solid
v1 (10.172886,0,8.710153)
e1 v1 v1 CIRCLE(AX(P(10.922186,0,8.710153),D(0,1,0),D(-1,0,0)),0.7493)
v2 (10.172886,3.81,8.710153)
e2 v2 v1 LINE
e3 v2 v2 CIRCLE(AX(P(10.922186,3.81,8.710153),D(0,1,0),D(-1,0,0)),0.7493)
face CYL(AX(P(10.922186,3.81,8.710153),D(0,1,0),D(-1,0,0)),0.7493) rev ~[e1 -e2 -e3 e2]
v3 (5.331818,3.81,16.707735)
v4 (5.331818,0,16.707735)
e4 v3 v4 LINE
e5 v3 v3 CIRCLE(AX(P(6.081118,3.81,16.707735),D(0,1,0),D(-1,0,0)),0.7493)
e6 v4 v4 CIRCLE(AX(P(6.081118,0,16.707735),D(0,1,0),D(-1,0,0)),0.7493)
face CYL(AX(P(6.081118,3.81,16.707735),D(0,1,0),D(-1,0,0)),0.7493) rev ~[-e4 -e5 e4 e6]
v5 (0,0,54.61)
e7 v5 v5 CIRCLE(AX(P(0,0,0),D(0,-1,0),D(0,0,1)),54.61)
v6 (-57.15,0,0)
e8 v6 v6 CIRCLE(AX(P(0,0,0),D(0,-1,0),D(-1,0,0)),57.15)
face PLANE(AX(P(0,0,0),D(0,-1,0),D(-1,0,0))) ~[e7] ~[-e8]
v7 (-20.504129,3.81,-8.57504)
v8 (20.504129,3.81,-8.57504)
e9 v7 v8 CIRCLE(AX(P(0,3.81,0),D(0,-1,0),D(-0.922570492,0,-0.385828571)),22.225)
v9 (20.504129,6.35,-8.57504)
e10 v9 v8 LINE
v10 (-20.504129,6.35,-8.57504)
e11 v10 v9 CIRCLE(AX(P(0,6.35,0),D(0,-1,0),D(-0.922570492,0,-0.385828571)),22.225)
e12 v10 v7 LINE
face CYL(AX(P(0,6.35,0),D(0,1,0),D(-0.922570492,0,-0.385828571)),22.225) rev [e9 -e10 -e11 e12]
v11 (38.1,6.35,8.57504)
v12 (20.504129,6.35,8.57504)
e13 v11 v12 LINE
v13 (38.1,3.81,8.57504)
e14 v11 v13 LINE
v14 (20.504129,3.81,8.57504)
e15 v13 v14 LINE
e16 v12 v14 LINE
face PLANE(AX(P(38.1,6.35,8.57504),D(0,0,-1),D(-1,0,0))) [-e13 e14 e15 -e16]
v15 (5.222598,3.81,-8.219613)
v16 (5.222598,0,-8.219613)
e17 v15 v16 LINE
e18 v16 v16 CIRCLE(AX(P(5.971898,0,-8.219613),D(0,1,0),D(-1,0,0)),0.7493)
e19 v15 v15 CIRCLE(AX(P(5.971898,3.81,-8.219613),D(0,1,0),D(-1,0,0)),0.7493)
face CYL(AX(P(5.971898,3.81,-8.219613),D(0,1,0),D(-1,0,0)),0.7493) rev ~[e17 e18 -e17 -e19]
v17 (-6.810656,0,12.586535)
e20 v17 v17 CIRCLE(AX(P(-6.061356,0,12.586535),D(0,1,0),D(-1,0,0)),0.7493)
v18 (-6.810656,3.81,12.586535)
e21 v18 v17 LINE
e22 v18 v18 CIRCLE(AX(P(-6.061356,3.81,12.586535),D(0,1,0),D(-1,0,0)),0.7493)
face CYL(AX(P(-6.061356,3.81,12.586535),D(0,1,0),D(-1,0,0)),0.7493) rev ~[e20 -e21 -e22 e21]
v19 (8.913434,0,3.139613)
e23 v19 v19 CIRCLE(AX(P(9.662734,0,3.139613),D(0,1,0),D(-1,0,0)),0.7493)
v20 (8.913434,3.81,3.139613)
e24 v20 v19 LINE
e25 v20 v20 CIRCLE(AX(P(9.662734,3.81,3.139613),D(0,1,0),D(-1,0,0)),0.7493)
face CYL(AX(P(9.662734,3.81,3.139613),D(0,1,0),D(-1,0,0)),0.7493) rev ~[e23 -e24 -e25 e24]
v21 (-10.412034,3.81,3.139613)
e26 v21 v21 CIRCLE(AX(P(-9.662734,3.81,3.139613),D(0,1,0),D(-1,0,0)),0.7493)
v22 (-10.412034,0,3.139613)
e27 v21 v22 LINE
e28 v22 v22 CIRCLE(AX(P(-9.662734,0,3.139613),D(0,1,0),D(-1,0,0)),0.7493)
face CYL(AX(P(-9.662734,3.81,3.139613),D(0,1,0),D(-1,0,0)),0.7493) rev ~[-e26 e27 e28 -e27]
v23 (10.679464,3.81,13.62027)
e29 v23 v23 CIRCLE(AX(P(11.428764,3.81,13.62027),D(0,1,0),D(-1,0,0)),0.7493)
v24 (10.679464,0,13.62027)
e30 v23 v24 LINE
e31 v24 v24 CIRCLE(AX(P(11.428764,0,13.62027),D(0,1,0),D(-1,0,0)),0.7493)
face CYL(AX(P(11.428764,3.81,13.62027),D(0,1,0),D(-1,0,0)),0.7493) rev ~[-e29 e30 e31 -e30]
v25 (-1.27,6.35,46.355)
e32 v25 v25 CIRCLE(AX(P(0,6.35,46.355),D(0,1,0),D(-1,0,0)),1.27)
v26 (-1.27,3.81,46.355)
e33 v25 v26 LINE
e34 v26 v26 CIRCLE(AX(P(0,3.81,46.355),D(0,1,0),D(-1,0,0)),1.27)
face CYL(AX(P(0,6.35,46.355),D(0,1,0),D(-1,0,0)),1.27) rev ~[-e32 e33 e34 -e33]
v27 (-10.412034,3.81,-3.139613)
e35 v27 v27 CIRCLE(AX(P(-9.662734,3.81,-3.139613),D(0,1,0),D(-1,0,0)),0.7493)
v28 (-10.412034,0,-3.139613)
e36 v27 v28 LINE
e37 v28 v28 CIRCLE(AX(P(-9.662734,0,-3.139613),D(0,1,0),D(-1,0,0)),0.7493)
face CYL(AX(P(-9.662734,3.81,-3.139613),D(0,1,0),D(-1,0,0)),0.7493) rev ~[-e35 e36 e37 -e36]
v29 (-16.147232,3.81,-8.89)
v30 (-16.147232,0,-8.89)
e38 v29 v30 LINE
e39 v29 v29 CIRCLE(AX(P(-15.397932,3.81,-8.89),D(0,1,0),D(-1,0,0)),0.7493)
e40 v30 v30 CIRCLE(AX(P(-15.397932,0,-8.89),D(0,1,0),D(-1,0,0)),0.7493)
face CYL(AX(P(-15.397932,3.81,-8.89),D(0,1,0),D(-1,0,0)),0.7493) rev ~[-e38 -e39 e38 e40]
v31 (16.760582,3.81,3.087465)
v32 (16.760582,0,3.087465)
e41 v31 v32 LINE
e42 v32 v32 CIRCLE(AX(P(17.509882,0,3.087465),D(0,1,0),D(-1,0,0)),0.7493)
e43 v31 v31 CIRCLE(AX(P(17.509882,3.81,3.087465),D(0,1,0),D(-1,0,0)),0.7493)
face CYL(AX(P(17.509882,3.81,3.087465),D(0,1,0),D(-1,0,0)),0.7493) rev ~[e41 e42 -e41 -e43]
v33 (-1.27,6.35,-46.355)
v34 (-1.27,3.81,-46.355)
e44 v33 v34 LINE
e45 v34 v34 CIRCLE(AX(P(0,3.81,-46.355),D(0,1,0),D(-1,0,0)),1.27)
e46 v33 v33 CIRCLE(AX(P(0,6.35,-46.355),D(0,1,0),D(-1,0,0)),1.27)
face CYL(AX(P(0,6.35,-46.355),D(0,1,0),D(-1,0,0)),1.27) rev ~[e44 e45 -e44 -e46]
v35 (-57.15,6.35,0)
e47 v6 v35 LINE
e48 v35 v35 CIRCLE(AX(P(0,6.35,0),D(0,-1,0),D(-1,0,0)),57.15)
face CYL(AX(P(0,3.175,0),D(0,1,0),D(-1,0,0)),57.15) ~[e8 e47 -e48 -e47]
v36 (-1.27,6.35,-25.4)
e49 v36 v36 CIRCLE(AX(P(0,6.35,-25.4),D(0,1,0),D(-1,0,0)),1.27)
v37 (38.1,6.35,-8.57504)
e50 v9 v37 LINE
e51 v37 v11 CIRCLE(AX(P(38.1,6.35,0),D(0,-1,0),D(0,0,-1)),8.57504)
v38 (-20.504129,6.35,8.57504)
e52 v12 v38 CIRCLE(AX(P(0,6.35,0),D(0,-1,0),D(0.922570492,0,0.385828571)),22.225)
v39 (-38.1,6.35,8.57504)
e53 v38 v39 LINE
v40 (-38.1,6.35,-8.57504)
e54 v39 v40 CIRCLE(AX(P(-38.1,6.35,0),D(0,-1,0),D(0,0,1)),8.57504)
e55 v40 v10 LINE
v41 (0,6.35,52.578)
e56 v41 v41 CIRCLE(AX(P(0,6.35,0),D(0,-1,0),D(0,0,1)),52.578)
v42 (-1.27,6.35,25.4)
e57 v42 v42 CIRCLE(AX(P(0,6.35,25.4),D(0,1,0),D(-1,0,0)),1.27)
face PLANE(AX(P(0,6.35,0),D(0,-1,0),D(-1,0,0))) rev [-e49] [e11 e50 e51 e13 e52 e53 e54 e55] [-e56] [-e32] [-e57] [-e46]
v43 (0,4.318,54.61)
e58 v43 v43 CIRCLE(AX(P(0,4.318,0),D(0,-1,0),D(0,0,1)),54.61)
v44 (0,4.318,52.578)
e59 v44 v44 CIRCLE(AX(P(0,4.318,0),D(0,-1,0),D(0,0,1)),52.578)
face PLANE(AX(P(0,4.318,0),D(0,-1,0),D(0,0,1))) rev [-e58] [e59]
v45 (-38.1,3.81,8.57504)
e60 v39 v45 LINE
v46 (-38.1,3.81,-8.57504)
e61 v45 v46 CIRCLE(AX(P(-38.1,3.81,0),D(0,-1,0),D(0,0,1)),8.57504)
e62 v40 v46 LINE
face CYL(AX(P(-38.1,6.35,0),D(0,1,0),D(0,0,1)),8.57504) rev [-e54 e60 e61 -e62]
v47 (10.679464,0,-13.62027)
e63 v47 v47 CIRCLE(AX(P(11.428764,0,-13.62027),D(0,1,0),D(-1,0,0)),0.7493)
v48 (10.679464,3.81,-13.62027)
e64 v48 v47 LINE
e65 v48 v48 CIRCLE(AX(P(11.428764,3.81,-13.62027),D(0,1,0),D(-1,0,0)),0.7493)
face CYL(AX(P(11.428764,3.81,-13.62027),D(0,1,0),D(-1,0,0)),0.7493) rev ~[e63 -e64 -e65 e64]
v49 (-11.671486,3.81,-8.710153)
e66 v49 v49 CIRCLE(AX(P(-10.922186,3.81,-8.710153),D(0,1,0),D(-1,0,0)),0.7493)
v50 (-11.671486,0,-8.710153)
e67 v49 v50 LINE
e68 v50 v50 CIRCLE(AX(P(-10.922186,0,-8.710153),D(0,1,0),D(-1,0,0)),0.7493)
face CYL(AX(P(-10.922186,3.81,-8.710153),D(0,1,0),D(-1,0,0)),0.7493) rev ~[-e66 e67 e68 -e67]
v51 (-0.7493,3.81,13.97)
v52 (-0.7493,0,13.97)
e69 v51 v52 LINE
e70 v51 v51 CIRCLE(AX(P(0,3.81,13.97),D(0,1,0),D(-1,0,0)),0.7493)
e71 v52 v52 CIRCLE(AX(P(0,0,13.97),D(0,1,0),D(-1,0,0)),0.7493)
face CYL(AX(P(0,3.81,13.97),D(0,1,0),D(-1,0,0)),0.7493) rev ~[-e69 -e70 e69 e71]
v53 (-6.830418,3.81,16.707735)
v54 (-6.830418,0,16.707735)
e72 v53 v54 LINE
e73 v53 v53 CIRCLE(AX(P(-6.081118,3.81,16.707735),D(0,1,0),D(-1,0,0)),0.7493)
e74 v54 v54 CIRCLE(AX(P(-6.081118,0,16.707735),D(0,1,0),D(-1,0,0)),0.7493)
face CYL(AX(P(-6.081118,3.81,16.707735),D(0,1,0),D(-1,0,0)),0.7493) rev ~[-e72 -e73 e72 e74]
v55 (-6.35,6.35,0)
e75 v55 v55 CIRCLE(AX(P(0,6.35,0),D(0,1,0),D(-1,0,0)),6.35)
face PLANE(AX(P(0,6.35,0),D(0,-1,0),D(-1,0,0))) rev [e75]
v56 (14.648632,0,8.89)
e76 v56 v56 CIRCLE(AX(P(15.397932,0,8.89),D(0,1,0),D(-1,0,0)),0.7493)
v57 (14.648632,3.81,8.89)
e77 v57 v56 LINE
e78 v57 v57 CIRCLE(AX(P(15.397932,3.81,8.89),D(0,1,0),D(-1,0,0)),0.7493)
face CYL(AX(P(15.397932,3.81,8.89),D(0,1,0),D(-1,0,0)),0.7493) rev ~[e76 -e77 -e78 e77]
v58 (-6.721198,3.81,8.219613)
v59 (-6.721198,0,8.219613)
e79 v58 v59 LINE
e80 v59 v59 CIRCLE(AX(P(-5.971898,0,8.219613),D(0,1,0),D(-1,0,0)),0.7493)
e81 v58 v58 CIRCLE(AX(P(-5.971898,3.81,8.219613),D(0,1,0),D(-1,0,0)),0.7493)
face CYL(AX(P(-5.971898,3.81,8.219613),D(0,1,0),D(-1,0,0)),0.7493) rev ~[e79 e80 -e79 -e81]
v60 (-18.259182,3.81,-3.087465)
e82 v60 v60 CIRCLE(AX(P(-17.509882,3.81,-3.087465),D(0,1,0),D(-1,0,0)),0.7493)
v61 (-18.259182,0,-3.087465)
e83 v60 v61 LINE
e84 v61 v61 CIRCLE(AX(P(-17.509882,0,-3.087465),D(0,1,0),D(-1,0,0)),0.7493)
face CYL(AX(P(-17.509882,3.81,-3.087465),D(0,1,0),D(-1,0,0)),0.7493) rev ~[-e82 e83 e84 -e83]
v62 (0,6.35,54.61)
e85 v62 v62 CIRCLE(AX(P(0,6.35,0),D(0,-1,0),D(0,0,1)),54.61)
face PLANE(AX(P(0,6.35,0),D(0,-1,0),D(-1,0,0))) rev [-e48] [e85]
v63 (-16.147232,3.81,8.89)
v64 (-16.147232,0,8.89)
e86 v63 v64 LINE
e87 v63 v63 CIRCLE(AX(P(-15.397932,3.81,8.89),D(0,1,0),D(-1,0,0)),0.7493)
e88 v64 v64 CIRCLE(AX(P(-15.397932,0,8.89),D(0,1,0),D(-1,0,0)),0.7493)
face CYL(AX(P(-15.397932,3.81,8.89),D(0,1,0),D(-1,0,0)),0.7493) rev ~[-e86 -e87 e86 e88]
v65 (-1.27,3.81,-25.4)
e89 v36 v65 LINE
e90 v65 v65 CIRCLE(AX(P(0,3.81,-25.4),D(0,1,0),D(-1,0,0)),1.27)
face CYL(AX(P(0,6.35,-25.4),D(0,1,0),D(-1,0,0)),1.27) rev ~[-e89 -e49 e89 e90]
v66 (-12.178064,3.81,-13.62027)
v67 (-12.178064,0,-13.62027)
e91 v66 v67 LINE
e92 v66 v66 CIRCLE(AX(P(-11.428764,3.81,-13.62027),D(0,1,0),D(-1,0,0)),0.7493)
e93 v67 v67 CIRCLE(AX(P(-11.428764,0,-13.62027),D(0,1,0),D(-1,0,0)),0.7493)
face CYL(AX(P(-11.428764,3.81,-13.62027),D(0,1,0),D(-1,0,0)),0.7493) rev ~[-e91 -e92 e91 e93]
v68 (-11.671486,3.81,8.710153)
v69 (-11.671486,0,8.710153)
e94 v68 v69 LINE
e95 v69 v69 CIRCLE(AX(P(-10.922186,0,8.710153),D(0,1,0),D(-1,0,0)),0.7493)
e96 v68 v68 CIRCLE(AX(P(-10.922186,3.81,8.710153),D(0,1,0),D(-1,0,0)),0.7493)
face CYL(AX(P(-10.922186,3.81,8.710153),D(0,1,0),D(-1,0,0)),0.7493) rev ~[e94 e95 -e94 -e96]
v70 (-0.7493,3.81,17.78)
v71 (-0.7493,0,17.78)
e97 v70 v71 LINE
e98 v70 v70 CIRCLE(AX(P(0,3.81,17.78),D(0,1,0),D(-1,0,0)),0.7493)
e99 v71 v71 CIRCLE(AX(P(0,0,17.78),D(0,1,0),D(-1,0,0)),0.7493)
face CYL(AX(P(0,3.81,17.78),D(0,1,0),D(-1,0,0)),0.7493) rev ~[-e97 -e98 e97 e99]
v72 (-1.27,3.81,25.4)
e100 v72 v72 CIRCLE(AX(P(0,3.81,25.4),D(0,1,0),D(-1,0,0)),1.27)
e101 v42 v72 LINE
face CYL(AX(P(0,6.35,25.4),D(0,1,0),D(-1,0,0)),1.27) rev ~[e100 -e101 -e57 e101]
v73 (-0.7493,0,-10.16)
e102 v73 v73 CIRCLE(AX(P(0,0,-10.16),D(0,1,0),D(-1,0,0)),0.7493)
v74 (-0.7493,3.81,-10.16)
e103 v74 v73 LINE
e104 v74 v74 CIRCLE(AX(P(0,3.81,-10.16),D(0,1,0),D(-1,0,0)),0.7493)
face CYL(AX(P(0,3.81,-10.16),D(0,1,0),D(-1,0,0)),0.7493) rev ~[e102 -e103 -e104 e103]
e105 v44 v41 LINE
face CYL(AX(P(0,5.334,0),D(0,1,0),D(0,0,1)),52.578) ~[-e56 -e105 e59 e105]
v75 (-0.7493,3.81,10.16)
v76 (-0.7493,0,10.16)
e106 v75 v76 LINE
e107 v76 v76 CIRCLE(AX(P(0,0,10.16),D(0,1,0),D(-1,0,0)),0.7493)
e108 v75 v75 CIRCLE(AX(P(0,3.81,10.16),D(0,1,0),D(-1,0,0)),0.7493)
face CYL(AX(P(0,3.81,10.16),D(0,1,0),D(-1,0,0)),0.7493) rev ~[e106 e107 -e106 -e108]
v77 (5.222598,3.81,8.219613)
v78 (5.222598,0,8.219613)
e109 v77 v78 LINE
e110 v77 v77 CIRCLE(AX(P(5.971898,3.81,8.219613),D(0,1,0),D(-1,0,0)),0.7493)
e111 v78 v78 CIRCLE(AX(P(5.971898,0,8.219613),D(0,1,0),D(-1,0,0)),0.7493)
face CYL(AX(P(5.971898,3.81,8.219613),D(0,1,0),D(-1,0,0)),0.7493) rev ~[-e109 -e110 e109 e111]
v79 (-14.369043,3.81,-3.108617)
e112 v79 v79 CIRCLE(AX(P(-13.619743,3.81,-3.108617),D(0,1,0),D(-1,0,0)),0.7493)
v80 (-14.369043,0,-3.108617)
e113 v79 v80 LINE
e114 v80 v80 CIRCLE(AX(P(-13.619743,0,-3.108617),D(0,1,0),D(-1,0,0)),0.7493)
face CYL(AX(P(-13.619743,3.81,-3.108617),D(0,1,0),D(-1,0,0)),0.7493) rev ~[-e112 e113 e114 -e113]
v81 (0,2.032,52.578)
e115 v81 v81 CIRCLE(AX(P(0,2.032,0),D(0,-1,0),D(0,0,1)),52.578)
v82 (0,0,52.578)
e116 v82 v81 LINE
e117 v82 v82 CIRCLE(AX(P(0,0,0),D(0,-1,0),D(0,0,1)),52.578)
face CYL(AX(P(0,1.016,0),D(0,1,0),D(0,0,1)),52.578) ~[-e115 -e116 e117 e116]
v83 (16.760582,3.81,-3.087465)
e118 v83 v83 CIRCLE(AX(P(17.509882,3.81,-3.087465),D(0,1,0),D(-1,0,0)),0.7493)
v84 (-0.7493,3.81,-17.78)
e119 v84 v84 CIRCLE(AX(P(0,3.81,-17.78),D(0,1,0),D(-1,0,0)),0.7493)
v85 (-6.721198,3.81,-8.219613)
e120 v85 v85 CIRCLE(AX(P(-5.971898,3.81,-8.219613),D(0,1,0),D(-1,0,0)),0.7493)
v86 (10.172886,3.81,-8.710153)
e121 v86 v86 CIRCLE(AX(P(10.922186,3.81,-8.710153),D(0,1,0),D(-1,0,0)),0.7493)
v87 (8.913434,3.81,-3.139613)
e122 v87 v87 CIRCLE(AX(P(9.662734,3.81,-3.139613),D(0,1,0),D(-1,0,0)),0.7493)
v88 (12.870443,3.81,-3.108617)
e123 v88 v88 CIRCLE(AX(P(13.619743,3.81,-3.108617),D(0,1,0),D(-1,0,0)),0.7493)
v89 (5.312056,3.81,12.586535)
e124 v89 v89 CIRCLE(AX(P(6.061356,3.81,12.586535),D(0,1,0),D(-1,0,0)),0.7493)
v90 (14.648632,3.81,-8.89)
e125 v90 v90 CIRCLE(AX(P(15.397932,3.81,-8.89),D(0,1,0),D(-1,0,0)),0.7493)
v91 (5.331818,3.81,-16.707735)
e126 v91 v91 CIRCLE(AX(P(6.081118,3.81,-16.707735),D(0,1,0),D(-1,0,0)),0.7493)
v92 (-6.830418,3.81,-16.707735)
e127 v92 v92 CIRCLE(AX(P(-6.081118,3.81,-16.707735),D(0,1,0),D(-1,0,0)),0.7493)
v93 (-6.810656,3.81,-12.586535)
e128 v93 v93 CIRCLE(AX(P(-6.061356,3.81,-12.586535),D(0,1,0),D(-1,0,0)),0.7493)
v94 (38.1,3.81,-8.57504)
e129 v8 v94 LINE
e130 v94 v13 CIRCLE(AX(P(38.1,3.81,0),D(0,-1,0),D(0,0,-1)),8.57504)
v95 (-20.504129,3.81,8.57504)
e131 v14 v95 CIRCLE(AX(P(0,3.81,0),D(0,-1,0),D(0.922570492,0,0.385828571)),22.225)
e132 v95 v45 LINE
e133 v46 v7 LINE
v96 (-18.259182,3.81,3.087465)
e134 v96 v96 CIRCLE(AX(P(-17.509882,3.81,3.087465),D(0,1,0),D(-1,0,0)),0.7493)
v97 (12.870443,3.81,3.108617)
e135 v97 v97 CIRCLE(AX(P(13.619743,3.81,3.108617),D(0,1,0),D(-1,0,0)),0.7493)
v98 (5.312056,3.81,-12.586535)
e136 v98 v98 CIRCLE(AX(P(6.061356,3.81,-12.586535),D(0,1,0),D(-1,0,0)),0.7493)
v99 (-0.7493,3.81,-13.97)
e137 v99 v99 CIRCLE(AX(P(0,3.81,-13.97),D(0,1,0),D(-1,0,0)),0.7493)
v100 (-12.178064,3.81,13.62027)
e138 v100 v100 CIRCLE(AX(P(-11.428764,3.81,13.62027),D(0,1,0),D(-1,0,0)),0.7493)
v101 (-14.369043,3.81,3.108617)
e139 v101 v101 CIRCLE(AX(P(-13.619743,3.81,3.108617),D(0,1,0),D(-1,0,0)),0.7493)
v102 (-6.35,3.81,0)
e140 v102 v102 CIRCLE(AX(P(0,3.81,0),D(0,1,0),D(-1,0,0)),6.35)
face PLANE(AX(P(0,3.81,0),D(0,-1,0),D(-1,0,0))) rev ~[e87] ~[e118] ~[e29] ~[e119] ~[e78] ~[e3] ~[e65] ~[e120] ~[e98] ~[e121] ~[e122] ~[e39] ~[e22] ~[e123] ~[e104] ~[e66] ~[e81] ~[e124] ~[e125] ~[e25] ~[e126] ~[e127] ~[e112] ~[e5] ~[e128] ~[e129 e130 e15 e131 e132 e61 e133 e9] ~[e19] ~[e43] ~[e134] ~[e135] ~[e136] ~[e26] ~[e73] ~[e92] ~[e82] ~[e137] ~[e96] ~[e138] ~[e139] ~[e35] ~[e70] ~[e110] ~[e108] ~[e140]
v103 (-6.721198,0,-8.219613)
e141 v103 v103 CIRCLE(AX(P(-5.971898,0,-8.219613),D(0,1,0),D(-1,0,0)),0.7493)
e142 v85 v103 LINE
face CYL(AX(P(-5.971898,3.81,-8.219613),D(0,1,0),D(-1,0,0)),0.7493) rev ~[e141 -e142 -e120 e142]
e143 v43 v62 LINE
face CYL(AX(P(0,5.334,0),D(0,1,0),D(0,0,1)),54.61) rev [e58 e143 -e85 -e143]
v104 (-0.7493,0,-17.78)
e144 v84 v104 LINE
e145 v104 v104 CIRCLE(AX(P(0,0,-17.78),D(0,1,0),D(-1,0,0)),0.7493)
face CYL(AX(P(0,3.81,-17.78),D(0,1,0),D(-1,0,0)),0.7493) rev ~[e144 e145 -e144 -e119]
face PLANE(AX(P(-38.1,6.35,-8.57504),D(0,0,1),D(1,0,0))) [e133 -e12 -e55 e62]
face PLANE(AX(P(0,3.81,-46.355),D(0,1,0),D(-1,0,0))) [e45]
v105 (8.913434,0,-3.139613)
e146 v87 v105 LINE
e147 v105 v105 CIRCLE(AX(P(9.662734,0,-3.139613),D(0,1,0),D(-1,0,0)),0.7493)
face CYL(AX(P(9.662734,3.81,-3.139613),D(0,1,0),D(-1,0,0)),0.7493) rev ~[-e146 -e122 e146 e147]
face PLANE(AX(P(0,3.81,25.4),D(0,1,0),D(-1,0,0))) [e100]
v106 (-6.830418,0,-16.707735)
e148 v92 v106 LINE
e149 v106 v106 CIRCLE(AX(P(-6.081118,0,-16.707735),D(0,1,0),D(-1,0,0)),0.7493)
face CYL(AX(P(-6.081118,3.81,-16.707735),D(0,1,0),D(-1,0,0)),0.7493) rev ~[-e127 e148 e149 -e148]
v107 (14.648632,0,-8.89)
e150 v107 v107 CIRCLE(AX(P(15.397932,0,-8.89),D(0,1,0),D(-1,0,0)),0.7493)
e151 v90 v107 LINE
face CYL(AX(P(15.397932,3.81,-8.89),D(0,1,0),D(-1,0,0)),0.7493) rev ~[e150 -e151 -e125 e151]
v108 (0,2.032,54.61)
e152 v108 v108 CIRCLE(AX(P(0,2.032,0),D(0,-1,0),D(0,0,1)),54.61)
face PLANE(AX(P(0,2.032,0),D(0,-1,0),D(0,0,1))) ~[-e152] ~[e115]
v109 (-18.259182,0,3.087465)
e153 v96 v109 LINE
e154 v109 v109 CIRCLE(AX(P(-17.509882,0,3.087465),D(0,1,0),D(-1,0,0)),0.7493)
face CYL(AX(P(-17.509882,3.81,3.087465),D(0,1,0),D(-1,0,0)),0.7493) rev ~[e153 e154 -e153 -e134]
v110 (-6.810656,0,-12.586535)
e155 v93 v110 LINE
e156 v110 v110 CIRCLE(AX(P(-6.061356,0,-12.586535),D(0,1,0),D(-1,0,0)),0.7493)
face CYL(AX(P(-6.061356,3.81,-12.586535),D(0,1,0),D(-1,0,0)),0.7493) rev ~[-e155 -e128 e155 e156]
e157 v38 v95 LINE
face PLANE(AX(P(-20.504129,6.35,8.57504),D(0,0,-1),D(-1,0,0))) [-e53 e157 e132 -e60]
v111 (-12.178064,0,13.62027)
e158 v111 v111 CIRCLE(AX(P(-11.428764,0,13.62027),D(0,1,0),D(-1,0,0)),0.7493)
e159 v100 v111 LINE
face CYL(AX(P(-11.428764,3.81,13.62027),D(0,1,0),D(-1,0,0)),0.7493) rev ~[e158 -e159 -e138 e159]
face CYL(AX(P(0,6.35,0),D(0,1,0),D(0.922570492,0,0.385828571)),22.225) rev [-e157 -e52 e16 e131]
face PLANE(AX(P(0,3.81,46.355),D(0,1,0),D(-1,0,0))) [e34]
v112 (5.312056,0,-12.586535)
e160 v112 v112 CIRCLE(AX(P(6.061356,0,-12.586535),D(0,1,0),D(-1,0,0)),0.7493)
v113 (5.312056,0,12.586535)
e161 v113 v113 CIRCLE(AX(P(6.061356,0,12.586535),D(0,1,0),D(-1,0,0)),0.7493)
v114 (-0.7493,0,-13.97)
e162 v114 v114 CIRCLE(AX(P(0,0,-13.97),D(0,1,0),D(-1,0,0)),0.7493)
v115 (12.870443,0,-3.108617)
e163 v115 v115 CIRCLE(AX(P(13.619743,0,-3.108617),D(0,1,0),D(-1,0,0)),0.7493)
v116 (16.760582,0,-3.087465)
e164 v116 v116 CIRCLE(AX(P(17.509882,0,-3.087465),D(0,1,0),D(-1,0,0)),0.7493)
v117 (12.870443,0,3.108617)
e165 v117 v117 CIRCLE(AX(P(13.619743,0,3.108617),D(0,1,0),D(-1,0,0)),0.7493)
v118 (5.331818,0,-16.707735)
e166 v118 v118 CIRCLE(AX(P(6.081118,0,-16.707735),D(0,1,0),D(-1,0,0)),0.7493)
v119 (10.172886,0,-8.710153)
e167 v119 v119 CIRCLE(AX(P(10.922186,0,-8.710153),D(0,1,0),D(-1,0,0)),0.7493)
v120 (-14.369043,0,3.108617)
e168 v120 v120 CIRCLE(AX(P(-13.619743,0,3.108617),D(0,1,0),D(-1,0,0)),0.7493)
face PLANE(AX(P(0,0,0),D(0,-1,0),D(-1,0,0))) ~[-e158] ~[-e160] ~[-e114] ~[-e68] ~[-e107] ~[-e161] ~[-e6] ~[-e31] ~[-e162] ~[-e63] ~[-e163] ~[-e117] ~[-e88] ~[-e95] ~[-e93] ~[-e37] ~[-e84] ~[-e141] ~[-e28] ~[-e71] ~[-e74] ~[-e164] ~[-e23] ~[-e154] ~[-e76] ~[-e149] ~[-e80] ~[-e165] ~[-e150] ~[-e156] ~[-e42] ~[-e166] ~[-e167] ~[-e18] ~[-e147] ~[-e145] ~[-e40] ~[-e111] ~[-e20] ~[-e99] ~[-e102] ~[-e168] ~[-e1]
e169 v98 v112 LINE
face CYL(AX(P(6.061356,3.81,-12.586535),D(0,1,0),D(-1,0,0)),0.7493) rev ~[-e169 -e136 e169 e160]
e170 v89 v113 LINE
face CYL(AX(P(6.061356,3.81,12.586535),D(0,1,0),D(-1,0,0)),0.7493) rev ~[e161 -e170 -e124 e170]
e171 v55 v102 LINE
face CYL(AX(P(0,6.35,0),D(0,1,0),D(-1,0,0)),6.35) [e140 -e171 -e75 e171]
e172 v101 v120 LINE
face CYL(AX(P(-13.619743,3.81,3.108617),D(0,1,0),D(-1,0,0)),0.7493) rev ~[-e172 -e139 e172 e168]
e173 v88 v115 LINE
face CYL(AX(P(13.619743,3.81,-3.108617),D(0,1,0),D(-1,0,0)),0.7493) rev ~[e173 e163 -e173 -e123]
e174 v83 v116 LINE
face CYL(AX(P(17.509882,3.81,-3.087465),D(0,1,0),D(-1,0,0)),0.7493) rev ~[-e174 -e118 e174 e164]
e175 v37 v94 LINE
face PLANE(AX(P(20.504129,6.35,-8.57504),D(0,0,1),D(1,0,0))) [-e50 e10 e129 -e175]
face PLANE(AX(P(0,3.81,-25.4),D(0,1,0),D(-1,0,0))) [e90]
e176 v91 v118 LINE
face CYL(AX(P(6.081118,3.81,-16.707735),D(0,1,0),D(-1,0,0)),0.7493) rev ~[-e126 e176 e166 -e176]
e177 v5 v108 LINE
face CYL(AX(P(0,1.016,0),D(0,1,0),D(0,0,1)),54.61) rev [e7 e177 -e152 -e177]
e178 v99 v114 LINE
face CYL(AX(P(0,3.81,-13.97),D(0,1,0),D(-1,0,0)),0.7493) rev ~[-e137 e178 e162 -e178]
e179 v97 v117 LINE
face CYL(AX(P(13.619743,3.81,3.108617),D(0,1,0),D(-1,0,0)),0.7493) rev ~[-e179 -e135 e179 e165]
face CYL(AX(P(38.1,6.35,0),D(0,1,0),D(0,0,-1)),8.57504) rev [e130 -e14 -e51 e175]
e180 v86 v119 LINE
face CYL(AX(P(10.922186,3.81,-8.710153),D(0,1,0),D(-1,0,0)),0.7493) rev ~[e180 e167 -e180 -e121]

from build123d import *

# Parameters (mm, degrees)
MAIN_SHAPE_PROFILE_W          = 57.15
MAIN_SHAPE_PROFILE_H          = 6.35
O_RINGS_PROFILE_W             = 2.032
O_RINGS_PROFILE_H             = 2.032
INJECTOR_WELL_PROFILE_R       = 6.35
INJECTOR_WELL_DEPTH           = 2.54
DOWEL_HOLES_PROFILE_R         = 1.27
DOWEL_HOLES_DEPTH             = 2.54
INJECTOR_HOLES_R              = 0.7493
CIRCULAR_INJECTOR_HOLES_DEPTH = 81.912057816


with BuildPart() as part:
    # Main Shape Profile → Main Shape (revolve)
    with BuildSketch(Plane.XY, mode=Mode.PRIVATE) as main_shape_sk:
        with Locations((28.575, 3.175)):
            Rectangle(MAIN_SHAPE_PROFILE_W, MAIN_SHAPE_PROFILE_H)
    revolve(main_shape_sk.sketch.rotate(Axis((0, 0, 0), (0, -1, 0)), 180), axis=Axis((0, 0, 0), (0, -1, 0)))

    # O Rings Profile → O-Rings Cutout (revolve, cut)
    with BuildSketch(Plane.XY, mode=Mode.PRIVATE) as o_rings_cutout_sk:
        with Locations((53.594, 5.334)):
            Rectangle(O_RINGS_PROFILE_W, O_RINGS_PROFILE_H)
        with Locations((53.594, 1.016)):
            Rectangle(O_RINGS_PROFILE_W, O_RINGS_PROFILE_H)
    revolve(o_rings_cutout_sk.sketch.rotate(Axis((0, 0, 0), (0, -1, 0)), 90), axis=Axis((0, 0, 0), (0, -1, 0)), mode=Mode.SUBTRACT)

    # Injector Well Profile → Injector Well (cut)
    with BuildSketch(Plane(origin=(0, 6.35, 0), x_dir=(1, 0, 0), z_dir=(0, 1, 0))):
        with BuildLine():
            Line((-38.1, 8.57504), (-20.504129194, 8.57504))
            ThreePointArc((-20.504129194, 8.57504), (0, 22.225), (20.504129194, 8.57504))
            Line((20.504129194, 8.57504), (38.1, 8.57504))
            ThreePointArc((38.1, 8.57504), (46.67504, 0), (38.1, -8.57504))
            Line((38.1, -8.57504), (20.504129194, -8.57504))
            ThreePointArc((20.504129194, -8.57504), (0, -22.225), (-20.504129194, -8.57504))
            Line((-20.504129194, -8.57504), (-38.1, -8.57504))
            ThreePointArc((-38.1, -8.57504), (-46.67504, 0), (-38.1, 8.57504))
        make_face()
        with Locations(Location((0, 0, 0), (0, 0, 180))):
            Circle(INJECTOR_WELL_PROFILE_R, mode=Mode.SUBTRACT)
    extrude(amount=-INJECTOR_WELL_DEPTH, mode=Mode.SUBTRACT)

    # Dowel Holes Profile → Dowel Holes (cut)
    with BuildSketch(Plane(origin=(0, 6.35, 0), x_dir=(1, 0, 0), z_dir=(0, 1, 0))):
        with Locations(Location((0, 25.4, 0), (0, 0, 180))):
            Circle(DOWEL_HOLES_PROFILE_R)
        with Locations(Location((0, 46.355, 0), (0, 0, 180))):
            Circle(DOWEL_HOLES_PROFILE_R)
        with Locations(Location((0, -46.355, 0), (0, 0, 180))):
            Circle(DOWEL_HOLES_PROFILE_R)
        with Locations(Location((0, -25.4, 0), (0, 0, 180))):
            Circle(DOWEL_HOLES_PROFILE_R)
    extrude(amount=-DOWEL_HOLES_DEPTH, mode=Mode.SUBTRACT)

    # Injector Holes → Circular Injector Holes (cut, through all)
    with BuildSketch(Plane(origin=(0, 3.81, 0), x_dir=(1, 0, 0), z_dir=(0, 1, 0))):
        with Locations(Location((0, -17.78, 0), (0, 0, 180))):
            Circle(INJECTOR_HOLES_R)
        with Locations(Location((0, -13.97, 0), (0, 0, 180))):
            Circle(INJECTOR_HOLES_R)
        with Locations(Location((0, -10.16, 0), (0, 0, 180))):
            Circle(INJECTOR_HOLES_R)
        with Locations(Location((-6.081118148, -16.707734798, 0), (0, 0, 180))):
            Circle(INJECTOR_HOLES_R)
        with Locations(Location((-11.4287637, -13.620270199, 0), (0, 0, 180))):
            Circle(INJECTOR_HOLES_R)
        with Locations(Location((-15.397931679, -8.89, 0), (0, 0, 180))):
            Circle(INJECTOR_HOLES_R)
        with Locations(Location((-17.509881849, -3.087464599, 0), (0, 0, 180))):
            Circle(INJECTOR_HOLES_R)
        with Locations(Location((-17.509881849, 3.087464599, 0), (0, 0, 180))):
            Circle(INJECTOR_HOLES_R)
        with Locations(Location((-15.397931679, 8.89, 0), (0, 0, 180))):
            Circle(INJECTOR_HOLES_R)
        with Locations(Location((-11.4287637, 13.620270199, 0), (0, 0, 180))):
            Circle(INJECTOR_HOLES_R)
        with Locations(Location((-6.081118148, 16.707734798, 0), (0, 0, 180))):
            Circle(INJECTOR_HOLES_R)
        with Locations(Location((0, 17.78, 0), (0, 0, 180))):
            Circle(INJECTOR_HOLES_R)
        with Locations(Location((6.081118148, 16.707734798, 0), (0, 0, 180))):
            Circle(INJECTOR_HOLES_R)
        with Locations(Location((11.4287637, 13.620270199, 0), (0, 0, 180))):
            Circle(INJECTOR_HOLES_R)
        with Locations(Location((15.397931679, 8.89, 0), (0, 0, 180))):
            Circle(INJECTOR_HOLES_R)
        with Locations(Location((17.509881849, 3.087464599, 0), (0, 0, 180))):
            Circle(INJECTOR_HOLES_R)
        with Locations(Location((17.509881849, -3.087464599, 0), (0, 0, 180))):
            Circle(INJECTOR_HOLES_R)
        with Locations(Location((15.397931679, -8.89, 0), (0, 0, 180))):
            Circle(INJECTOR_HOLES_R)
        with Locations(Location((11.4287637, -13.620270199, 0), (0, 0, 180))):
            Circle(INJECTOR_HOLES_R)
        with Locations(Location((-6.061355835, -12.586535085, 0), (0, 0, 180))):
            Circle(INJECTOR_HOLES_R)
        with Locations(Location((-10.92218581, -8.710152532, 0), (0, 0, 180))):
            Circle(INJECTOR_HOLES_R)
        with Locations(Location((-13.619742933, -3.108617447, 0), (0, 0, 180))):
            Circle(INJECTOR_HOLES_R)
        with Locations(Location((-13.619742933, 3.108617447, 0), (0, 0, 180))):
            Circle(INJECTOR_HOLES_R)
        with Locations(Location((-10.92218581, 8.710152532, 0), (0, 0, 180))):
            Circle(INJECTOR_HOLES_R)
        with Locations(Location((-6.061355835, 12.586535085, 0), (0, 0, 180))):
            Circle(INJECTOR_HOLES_R)
        with Locations(Location((0, 13.97, 0), (0, 0, 180))):
            Circle(INJECTOR_HOLES_R)
        with Locations(Location((6.061355835, 12.586535085, 0), (0, 0, 180))):
            Circle(INJECTOR_HOLES_R)
        with Locations(Location((10.92218581, 8.710152532, 0), (0, 0, 180))):
            Circle(INJECTOR_HOLES_R)
        with Locations(Location((13.619742933, 3.108617447, 0), (0, 0, 180))):
            Circle(INJECTOR_HOLES_R)
        with Locations(Location((13.619742933, -3.108617447, 0), (0, 0, 180))):
            Circle(INJECTOR_HOLES_R)
        with Locations(Location((10.92218581, -8.710152532, 0), (0, 0, 180))):
            Circle(INJECTOR_HOLES_R)
        with Locations(Location((-5.971898163, -8.219612663, 0), (0, 0, 180))):
            Circle(INJECTOR_HOLES_R)
        with Locations(Location((-9.662734206, -3.139612663, 0), (0, 0, 180))):
            Circle(INJECTOR_HOLES_R)
        with Locations(Location((-9.662734206, 3.139612663, 0), (0, 0, 180))):
            Circle(INJECTOR_HOLES_R)
        with Locations(Location((-5.971898163, 8.219612663, 0), (0, 0, 180))):
            Circle(INJECTOR_HOLES_R)
        with Locations(Location((0, 10.16, 0), (0, 0, 180))):
            Circle(INJECTOR_HOLES_R)
        with Locations(Location((5.971898163, 8.219612663, 0), (0, 0, 180))):
            Circle(INJECTOR_HOLES_R)
        with Locations(Location((9.662734206, 3.139612663, 0), (0, 0, 180))):
            Circle(INJECTOR_HOLES_R)
        with Locations(Location((9.662734206, -3.139612663, 0), (0, 0, 180))):
            Circle(INJECTOR_HOLES_R)
        with Locations(Location((5.971898163, -8.219612663, 0), (0, 0, 180))):
            Circle(INJECTOR_HOLES_R)
        with Locations(Location((6.061355835, -12.586535085, 0), (0, 0, 180))):
            Circle(INJECTOR_HOLES_R)
        with Locations(Location((6.081118148, -16.707734798, 0), (0, 0, 180))):
            Circle(INJECTOR_HOLES_R)
    extrude(amount=-CIRCULAR_INJECTOR_HOLES_DEPTH, mode=Mode.SUBTRACT)


solid = part.part
